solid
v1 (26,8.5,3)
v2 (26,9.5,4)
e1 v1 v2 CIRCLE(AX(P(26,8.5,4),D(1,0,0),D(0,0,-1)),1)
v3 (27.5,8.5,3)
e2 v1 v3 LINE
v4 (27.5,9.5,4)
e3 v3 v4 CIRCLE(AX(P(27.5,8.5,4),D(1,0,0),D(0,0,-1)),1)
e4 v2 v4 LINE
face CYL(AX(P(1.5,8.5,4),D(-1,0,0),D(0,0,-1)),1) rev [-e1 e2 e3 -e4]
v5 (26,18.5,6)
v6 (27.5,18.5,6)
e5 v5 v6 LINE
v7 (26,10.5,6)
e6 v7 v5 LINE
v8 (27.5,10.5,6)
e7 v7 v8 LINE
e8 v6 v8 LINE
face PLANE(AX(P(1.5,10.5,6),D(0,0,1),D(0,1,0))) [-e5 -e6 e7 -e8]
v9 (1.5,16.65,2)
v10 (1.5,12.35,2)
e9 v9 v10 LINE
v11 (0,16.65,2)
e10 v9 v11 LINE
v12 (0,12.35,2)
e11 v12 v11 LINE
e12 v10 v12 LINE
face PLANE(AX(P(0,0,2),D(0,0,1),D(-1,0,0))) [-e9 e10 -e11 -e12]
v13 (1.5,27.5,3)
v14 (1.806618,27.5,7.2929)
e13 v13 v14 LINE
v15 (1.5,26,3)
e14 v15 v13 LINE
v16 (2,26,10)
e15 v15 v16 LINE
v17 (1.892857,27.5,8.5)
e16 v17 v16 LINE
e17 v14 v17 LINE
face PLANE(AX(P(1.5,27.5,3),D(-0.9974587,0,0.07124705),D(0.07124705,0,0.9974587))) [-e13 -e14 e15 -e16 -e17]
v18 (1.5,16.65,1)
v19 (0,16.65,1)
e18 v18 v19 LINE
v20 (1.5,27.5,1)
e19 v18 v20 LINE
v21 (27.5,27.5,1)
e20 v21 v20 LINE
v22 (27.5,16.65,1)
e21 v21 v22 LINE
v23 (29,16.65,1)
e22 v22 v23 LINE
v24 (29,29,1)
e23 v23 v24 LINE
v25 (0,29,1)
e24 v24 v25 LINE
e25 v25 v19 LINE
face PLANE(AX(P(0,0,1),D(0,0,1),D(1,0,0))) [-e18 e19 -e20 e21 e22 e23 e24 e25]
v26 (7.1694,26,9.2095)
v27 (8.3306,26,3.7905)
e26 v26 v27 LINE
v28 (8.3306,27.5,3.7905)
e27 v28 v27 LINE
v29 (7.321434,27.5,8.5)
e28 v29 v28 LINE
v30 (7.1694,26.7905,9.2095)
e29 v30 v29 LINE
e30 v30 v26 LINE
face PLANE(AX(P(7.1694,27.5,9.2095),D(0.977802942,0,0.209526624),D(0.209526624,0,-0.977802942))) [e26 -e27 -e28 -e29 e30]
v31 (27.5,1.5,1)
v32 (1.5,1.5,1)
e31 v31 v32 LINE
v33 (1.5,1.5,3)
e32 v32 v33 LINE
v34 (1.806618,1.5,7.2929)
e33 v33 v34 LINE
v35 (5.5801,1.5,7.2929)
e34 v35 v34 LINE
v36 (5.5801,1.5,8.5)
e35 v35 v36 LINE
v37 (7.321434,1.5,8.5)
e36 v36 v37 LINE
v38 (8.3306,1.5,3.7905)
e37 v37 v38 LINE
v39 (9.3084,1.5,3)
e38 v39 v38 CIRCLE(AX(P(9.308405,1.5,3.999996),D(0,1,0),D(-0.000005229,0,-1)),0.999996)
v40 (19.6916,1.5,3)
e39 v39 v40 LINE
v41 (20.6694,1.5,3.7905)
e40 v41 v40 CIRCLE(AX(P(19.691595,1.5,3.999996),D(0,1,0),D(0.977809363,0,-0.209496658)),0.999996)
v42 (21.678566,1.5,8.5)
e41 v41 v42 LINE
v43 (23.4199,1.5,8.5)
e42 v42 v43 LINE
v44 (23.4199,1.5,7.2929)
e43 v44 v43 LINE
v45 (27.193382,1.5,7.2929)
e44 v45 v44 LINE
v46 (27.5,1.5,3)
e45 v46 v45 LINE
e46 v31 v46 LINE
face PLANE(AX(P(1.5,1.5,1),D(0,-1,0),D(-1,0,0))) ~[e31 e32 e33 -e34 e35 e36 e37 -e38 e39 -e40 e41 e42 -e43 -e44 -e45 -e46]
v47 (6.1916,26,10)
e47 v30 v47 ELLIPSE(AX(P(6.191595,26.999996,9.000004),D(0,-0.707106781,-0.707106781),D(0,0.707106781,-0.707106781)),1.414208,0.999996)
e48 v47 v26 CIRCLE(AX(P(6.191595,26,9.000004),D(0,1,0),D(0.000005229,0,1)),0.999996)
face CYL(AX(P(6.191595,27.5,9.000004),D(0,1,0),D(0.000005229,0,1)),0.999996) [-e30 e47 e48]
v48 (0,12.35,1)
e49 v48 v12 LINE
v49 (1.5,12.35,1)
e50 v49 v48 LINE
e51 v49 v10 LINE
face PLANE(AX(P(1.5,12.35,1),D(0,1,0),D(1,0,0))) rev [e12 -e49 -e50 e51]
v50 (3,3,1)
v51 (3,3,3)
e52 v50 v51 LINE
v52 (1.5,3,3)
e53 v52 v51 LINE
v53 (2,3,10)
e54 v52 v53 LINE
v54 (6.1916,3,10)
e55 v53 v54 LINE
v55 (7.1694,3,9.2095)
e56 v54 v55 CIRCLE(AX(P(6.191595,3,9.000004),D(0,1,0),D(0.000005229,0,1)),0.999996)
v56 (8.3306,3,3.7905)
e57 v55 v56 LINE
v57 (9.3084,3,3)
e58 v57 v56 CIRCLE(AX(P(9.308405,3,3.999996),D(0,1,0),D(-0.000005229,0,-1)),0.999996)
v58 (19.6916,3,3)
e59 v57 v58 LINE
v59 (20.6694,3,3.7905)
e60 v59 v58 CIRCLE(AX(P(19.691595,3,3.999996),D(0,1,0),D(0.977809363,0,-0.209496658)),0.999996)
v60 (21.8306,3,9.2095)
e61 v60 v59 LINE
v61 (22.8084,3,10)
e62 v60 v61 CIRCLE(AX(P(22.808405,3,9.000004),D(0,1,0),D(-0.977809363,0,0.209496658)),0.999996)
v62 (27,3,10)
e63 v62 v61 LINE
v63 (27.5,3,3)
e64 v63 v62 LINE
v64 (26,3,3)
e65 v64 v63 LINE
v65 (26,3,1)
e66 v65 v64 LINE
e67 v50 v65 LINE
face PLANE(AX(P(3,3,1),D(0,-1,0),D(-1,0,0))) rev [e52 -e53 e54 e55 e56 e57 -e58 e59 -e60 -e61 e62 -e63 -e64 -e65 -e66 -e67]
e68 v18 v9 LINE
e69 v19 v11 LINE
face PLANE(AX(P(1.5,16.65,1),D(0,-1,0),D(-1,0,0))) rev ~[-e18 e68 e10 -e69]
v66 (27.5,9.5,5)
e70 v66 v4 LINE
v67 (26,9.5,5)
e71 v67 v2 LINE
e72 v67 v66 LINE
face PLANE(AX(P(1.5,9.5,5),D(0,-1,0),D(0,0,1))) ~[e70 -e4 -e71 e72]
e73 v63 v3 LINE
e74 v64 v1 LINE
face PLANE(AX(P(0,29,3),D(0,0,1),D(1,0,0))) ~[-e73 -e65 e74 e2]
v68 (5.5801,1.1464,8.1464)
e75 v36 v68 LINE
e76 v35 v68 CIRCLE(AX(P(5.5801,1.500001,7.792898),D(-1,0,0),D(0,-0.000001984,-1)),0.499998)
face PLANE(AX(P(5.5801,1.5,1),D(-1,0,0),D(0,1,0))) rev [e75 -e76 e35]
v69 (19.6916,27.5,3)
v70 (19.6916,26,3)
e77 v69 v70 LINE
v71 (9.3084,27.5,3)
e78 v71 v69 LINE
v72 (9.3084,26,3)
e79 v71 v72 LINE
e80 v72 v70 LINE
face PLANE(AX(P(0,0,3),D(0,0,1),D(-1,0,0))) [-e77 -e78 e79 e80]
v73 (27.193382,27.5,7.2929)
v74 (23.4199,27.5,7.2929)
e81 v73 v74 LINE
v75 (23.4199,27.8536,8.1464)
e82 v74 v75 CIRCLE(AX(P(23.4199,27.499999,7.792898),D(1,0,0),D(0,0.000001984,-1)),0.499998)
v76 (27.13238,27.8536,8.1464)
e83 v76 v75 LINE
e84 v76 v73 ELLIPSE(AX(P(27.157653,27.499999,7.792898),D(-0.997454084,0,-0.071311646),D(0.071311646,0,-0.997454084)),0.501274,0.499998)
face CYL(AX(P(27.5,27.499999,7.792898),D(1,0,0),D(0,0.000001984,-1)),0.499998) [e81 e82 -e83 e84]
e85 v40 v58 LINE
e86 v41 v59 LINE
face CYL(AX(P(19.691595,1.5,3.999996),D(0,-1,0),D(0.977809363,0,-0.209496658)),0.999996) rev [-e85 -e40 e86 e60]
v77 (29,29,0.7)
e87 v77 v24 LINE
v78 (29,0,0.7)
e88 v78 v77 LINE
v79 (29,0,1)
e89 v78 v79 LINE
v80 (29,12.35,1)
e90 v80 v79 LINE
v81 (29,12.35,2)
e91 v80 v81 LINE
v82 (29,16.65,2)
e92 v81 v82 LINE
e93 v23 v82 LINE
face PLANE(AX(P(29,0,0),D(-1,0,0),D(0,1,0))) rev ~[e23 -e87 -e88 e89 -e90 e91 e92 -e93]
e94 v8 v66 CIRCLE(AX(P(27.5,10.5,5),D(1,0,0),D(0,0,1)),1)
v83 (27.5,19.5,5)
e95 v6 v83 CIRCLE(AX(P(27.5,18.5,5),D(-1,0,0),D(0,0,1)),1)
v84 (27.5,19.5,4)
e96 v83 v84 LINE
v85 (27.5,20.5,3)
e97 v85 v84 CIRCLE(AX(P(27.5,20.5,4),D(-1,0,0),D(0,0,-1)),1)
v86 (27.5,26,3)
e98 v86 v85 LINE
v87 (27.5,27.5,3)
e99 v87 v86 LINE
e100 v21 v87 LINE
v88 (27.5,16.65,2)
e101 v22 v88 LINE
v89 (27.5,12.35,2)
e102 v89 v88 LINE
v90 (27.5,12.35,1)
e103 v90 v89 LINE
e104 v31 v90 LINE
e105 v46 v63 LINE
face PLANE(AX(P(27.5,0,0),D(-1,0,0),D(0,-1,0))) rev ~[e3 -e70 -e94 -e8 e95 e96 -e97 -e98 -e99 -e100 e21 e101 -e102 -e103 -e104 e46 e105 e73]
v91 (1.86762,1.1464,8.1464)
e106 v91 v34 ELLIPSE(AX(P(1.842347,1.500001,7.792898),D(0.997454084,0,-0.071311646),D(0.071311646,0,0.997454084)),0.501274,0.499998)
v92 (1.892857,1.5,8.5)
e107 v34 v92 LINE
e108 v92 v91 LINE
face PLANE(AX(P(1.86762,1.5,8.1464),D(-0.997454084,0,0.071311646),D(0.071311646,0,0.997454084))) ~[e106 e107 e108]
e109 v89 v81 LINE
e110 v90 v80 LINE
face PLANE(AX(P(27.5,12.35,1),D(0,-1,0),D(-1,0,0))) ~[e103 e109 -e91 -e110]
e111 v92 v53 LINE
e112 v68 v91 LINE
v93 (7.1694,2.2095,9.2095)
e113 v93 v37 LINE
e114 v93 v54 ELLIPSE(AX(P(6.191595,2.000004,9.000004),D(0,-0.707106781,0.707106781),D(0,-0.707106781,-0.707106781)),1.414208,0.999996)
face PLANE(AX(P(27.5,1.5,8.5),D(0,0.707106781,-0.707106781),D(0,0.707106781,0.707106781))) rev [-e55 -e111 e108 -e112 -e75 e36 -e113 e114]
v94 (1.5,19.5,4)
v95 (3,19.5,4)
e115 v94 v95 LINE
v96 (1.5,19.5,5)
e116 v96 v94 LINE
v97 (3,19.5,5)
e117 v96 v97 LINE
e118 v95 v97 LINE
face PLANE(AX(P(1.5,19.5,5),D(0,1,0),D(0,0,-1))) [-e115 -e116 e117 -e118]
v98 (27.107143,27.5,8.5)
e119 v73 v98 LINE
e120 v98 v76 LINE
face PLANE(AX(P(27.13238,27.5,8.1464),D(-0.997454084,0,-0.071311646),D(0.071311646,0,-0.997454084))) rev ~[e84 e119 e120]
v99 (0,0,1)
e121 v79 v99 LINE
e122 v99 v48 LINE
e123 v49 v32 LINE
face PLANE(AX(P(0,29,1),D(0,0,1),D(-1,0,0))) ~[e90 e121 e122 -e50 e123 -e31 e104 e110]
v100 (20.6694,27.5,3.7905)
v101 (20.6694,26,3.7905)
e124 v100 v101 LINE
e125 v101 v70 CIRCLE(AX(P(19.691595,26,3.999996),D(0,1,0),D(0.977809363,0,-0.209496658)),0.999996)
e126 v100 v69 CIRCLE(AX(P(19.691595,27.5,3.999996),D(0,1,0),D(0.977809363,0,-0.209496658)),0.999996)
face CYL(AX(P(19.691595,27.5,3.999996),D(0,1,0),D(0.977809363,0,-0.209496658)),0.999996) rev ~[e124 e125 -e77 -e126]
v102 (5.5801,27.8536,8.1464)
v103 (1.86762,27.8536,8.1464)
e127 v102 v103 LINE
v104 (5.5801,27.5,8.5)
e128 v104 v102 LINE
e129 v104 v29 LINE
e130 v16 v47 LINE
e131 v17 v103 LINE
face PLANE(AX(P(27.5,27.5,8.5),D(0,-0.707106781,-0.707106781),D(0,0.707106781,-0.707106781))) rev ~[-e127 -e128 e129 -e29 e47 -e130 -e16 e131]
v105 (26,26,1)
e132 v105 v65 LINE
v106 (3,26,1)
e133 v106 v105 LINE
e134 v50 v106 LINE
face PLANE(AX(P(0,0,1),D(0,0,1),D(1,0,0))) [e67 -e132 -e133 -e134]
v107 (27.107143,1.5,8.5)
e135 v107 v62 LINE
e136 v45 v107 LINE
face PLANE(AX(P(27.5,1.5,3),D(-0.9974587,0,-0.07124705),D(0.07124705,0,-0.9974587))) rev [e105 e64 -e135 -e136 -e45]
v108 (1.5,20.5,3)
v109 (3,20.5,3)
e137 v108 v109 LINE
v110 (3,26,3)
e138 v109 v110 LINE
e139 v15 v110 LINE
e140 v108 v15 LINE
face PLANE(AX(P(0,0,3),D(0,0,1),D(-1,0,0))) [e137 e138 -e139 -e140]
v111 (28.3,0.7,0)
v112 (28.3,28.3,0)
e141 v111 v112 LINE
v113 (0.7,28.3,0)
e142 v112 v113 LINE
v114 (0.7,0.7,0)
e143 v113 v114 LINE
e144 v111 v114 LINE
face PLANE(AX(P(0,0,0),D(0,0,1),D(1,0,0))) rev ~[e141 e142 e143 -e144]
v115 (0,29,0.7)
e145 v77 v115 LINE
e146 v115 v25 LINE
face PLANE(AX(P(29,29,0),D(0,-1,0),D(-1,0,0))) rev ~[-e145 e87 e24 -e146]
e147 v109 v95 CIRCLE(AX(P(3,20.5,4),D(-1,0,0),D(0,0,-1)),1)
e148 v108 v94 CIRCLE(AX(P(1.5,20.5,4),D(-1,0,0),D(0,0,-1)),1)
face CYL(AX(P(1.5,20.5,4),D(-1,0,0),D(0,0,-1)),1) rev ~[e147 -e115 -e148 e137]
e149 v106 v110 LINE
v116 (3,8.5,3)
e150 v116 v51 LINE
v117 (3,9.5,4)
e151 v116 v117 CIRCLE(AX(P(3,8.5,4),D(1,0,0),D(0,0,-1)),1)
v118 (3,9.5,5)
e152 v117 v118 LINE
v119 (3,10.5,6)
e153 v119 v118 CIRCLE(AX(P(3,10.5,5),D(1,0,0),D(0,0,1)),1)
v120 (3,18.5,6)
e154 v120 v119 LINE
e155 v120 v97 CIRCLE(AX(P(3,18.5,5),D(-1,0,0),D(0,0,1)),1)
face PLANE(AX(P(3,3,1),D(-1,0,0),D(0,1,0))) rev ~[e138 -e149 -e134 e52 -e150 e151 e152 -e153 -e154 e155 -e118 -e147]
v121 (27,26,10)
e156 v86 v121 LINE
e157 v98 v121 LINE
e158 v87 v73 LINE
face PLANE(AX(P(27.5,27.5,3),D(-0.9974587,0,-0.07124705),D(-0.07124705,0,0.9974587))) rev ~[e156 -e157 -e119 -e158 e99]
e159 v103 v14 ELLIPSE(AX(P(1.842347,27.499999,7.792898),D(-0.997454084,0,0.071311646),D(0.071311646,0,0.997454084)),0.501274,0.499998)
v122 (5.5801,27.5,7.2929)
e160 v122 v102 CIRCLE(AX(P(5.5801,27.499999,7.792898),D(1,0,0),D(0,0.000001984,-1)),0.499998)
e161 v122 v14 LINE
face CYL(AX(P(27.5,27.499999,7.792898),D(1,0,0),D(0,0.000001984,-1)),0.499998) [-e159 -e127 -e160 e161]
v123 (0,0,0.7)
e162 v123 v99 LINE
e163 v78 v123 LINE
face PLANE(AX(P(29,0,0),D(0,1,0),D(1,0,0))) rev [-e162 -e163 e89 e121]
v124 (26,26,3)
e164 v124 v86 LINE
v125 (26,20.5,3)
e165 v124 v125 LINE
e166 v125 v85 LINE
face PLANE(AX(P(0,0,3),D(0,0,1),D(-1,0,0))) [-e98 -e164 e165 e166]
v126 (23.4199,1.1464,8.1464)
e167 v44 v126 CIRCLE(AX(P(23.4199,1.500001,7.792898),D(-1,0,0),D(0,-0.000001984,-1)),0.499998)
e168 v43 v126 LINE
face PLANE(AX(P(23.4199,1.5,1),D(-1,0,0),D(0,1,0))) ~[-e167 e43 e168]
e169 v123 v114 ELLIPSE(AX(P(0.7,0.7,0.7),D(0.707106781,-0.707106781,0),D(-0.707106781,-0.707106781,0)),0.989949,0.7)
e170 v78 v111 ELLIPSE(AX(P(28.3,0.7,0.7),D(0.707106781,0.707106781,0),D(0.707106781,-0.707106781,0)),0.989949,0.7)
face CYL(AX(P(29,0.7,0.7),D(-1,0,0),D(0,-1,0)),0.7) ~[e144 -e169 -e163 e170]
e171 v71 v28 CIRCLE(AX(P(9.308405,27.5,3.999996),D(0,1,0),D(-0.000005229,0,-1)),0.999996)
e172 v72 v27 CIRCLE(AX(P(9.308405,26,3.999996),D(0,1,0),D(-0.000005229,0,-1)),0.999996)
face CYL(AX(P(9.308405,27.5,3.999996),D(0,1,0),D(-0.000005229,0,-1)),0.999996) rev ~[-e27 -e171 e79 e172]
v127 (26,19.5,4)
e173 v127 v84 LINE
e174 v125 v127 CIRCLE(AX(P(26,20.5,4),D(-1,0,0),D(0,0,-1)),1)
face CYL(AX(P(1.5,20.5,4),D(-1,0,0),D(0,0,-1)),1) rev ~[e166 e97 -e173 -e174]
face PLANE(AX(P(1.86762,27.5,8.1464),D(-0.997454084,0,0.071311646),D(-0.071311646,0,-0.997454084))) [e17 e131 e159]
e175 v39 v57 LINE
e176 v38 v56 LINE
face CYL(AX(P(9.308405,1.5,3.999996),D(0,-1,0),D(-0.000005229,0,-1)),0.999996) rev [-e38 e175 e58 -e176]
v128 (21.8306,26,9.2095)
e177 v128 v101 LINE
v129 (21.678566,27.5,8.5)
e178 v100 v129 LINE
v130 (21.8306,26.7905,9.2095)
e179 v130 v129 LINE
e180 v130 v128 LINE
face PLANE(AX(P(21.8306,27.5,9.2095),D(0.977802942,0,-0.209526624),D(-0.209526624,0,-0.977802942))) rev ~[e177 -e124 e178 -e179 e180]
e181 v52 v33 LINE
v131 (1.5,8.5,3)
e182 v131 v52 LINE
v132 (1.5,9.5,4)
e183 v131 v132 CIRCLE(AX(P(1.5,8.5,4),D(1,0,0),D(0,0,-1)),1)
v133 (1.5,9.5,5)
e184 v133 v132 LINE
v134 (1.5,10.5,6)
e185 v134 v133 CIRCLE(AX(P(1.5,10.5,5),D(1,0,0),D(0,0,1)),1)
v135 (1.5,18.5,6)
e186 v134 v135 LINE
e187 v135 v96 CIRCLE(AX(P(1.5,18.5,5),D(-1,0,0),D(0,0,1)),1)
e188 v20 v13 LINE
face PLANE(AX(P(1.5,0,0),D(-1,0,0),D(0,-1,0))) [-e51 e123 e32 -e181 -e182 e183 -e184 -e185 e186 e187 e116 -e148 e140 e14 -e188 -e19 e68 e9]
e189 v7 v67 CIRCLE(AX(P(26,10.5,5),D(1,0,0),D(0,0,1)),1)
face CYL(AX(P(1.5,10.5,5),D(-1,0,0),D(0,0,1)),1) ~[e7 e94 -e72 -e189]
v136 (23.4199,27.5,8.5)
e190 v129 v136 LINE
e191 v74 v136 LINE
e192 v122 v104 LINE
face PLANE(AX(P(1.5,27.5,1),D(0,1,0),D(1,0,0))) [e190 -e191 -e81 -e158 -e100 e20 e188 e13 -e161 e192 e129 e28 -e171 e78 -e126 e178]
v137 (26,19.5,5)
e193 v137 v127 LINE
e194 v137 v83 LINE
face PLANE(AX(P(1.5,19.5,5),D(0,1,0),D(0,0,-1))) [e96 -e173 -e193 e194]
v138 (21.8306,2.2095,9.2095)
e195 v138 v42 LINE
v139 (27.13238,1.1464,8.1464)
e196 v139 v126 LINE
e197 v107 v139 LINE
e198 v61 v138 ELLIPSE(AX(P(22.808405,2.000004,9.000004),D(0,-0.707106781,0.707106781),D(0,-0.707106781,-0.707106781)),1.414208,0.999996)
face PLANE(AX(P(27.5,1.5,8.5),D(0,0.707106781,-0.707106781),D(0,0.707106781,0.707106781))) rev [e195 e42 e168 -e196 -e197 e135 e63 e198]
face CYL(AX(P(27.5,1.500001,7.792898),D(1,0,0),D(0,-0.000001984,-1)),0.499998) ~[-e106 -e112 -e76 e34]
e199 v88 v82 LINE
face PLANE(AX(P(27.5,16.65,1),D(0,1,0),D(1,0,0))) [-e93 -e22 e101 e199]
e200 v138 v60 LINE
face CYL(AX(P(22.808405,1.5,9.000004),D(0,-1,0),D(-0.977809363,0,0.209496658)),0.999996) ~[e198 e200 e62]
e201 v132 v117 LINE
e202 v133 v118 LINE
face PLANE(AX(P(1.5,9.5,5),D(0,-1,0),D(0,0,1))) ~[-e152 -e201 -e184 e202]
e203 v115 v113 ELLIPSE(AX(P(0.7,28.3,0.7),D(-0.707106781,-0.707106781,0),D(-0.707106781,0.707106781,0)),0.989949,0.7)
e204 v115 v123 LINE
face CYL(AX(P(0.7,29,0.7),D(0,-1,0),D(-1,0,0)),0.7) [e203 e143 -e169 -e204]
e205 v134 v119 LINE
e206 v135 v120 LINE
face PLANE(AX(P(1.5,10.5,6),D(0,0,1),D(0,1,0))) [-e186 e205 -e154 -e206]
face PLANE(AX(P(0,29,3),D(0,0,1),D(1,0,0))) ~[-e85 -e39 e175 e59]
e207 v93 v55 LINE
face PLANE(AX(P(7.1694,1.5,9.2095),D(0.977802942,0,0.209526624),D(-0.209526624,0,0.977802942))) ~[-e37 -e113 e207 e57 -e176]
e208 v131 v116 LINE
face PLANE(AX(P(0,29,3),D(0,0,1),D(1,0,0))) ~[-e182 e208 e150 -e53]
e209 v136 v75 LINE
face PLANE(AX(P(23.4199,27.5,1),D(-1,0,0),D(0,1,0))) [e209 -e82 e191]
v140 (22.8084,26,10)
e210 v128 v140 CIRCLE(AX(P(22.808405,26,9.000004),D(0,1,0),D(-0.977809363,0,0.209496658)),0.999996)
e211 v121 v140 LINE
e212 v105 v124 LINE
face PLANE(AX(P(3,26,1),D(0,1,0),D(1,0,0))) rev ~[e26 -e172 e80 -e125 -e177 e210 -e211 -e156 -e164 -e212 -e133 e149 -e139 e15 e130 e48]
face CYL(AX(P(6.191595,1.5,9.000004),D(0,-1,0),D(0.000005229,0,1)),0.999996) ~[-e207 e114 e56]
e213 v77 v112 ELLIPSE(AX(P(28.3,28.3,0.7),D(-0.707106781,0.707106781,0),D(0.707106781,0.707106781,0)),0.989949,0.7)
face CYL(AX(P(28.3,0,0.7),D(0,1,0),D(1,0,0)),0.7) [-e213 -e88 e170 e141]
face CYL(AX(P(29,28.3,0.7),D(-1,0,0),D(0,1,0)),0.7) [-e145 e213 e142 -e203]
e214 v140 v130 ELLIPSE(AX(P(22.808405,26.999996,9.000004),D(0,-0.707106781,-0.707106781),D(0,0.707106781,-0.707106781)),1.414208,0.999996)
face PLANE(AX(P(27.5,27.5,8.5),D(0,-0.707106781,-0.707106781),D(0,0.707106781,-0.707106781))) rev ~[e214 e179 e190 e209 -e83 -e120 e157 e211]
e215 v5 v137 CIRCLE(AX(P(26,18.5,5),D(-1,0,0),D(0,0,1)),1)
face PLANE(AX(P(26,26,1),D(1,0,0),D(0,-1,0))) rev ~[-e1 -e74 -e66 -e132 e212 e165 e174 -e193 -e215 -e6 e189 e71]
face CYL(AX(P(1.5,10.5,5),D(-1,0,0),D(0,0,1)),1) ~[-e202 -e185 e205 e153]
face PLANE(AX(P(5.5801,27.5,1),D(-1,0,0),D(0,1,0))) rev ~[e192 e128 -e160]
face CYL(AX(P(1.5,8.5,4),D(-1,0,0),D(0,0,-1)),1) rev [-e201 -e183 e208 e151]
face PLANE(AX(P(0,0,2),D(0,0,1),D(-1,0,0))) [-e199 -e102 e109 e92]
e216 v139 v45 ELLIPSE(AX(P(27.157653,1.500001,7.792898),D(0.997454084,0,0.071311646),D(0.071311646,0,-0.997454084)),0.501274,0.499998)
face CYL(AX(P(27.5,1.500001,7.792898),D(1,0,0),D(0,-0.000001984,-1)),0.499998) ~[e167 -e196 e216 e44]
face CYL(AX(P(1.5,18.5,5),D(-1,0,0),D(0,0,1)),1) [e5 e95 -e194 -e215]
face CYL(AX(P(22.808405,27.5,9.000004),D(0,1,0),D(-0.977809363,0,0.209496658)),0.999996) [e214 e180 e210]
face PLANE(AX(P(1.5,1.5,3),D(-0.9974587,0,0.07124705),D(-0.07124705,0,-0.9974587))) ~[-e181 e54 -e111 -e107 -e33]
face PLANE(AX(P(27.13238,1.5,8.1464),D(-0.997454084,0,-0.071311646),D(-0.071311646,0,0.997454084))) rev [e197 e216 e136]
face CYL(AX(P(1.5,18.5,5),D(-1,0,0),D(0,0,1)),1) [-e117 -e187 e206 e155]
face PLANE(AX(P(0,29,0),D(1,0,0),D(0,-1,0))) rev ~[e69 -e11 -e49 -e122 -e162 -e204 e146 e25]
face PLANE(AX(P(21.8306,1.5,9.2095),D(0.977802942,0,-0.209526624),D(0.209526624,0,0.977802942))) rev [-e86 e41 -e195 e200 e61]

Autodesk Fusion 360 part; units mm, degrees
sketch "Skizze1" plane through (0, 0, 0) normal (0, 0, 1) x (1, 0, 0)
  line L0 (0, 0) -> (29, 0)
  line L1 (29, 0) -> (29, 29)
  line L2 (29, 29) -> (0, 29)
  line L3 (0, 29) -> (0, 0)
  dimension "d1" = 29
  dimension "d2" = 29
extrude "Extrusion1" add sketch "Skizze1" along normal blind 1
fillet "Abrundung1" radius 0.7 4 edges at (14.5, 0, 0) (29, 14.5, 0) (14.5, 29, 0) (0, 14.5, 0)
sketch "Skizze2" plane through (0, 0, 1) normal (0, 0, 1) x (-1, 0, 0)
  line L0 (0, -29) -> (0, 0)
  line L1 (0, 0) -> (-29, 0)
  line L2 (-29, 0) -> (-29, -29)
  line L3 (-29, -29) -> (0, -29)
  line L4 (-1.5, -27.5) -> (-27.5, -27.5)
  line L5 (-27.5, -27.5) -> (-27.5, -1.5)
  line L6 (-27.5, -1.5) -> (-1.5, -1.5)
  line L7 (-1.5, -1.5) -> (-1.5, -27.5)
  line L8 (-26, -26) -> (-26, -3)
  line L9 (-26, -3) -> (-3, -3)
  line L10 (-3, -3) -> (-3, -26)
  line L11 (-3, -26) -> (-26, -26)
  dimension "d7" = 26
  dimension "d8" = 26
  dimension "d9" = 29
  dimension "d10" = 1.5
  dimension "d11" = 1.5
  dimension "d12" = 1.5
extrude "Extrusion2" add sketch "Skizze2" along normal blind 2 contours L4 L5 L6 L7
sketch "Skizze3" plane through (1.5, 0, 0) normal (-1, 0, 0) x (0, -1, 0)
  line L0 (-27.5, 1) -> (-1.5, 1)
  line L1 (-1.5, 1) -> (-1.5, 3)
  line L2 (-1.5, 3) -> (-27.5, 3)
  line L3 (-27.5, 3) -> (-27.5, 1)
  line L4 (-9.5, 4) -> (-9.5, 5)
  line L5 (-10.5, 6) -> (-18.5, 6)
  line L6 (-19.5, 5) -> (-19.5, 4)
  line L7 (-8.5, 3) -> (-1.5, 3)
  line L8 (-27.5, 3) -> (-20.5, 3)
  arc A0 (-20.5, 3) -> (-19.5, 4) centre (-20.5, 4) ccw
  line L9 (-9.5, 3) -> (-1.5, 3)
  arc A1 (-9.5, 4) -> (-8.5, 3) centre (-8.5, 4) ccw
  arc A2 (-18.5, 6) -> (-19.5, 5) centre (-18.5, 5) ccw
  arc A3 (-9.5, 5) -> (-10.5, 6) centre (-10.5, 5) ccw
  point P0 (-19.5, 3)
  point P1 (-19.5, 6)
  dimension "d15" = 10
  dimension "d16" = 3
  dimension "d17" = 26
  dimension "d18" = 8
  dimension "d19" = 1
  dimension "d20" = 1
  dimension "d21" = 1
  dimension "d22" = 1
extrude "Extrusion3" add sketch "Skizze3" against normal up to surface (26 mm away) contours L2 L4 L5 L6 A0 L9 A1 A2 A3
extrude "Extrusion4" cut 1 faces at (10.6667, 18.3333, 1) along direction (0, 0, 1) blind 5
sketch "Skizze4" plane through (0, 27.5, 0) normal (0, 1, 0) x (-1, 0, 0)
  line L0 (-27.5, 1) -> (-1.5, 1)
  line L1 (-1.5, 1) -> (-1.5, 3)
  line L2 (-1.5, 3) -> (-27.5, 3)
  line L3 (-27.5, 3) -> (-27.5, 1)
sketch "Skizze5" plane through (0, 0, 1) normal (0, 0, 1) x (-1, 0, 0)
  line L0 (0, -29) -> (0, 0)
  line L1 (0, 0) -> (-29, 0)
  line L2 (-29, 0) -> (-29, -29)
  line L3 (-29, -29) -> (0, -29)
  line L4 (-1.5, -1.5) -> (-1.5, -27.5)
  line L5 (-1.5, -27.5) -> (-27.5, -27.5)
  line L6 (-27.5, -27.5) -> (-27.5, -1.5)
  line L7 (-27.5, -1.5) -> (-1.5, -1.5)
  line L8 (-27.5, -16.65) -> (-29, -16.65)
  line L9 (-29, -16.65) -> (-29, -12.35)
  line L10 (-29, -12.35) -> (-27.5, -12.35)
  line L11 (-27.5, -12.35) -> (-27.5, -16.65)
  line L12 (-27.5, -12.35) -> (0, -12.35) construction
  line L13 (0, -12.35) -> (-1.5, -12.35)
  line L14 (-1.5, -12.35) -> (-1.5, -16.65)
  line L15 (-1.5, -16.65) -> (0, -16.65)
  line L16 (0, -16.65) -> (0, -12.35)
  dimension "d27" = 4.3
  dimension "d28" = 29
  dimension "d29" = 12.35
  dimension "d30" = 4.3
extrude "Extrusion5" add sketch "Skizze5" along normal blind 1 contours L0 L4 L13 L14 L15 L16 | L2 L6 L8 L9 L10 L11
sketch "Skizze6" plane through (0, 27.5, 0) normal (0, 1, 0) x (-1, 0, 0)
  line L0 (-27.5, 1) -> (-1.5, 1)
  line L1 (-1.5, 1) -> (-1.5, 3)
  line L2 (-1.5, 3) -> (-27.5, 3)
  line L3 (-27.5, 3) -> (-27.5, 1)
  line L4 (-29.2103, 10) -> (4.3331, 10) construction
  line L5 (-1.5, 3) -> (-27.5, 3)
  line L6 (-1.5, 3) -> (-1.5, 10) construction
  line L7 (-1.5, 3) -> (-2, 10)
  line L8 (-14.5, 3) -> (-14.5, 12.4711) construction
  line L9 (-2, 10) -> (-6.1916, 10)
  line L10 (-7.1694, 9.2095) -> (-8.3306, 3.7905)
  line L11 (-1.5, 3) -> (-14.5, 3)
  arc A0 (-9.3084, 3) -> (-8.3306, 3.7905) centre (-9.3084, 4) ccw
  arc A1 (-6.1916, 10) -> (-7.1694, 9.2095) centre (-6.1916, 9) ccw
  line L12 (-21.8306, 9.2095) -> (-20.6694, 3.7905)
  arc A2 (-21.8306, 9.2095) -> (-22.8084, 10) centre (-22.8084, 9) ccw
  line L13 (-27, 10) -> (-22.8084, 10)
  line L14 (-27.5, 3) -> (-27, 10)
  arc A3 (-20.6694, 3.7905) -> (-19.6916, 3) centre (-19.6916, 4) ccw
  line L15 (-27.5, 3) -> (-14.5, 3)
  point P0 (-7, 10)
  dimension "d33" = 7
  dimension "d34" = 0.5
  dimension "d36" = 5
  dimension "d37" = 1
  dimension "d38" = 1
extrude "Extrusion6" add sketch "Skizze6" against normal up to surface (1.5 mm away) contours L2 L5 L12 A2 L13 L14 A3 L15 | L2 L5 L7 L9 L10 L11 A0 A1
sketch "Skizze7" plane through (27.5, 0, 0) normal (1, 0, 0) x (0, 1, 0)
  line L0 (16.65, 2) -> (16.65, 1)
  line L1 (16.65, 1) -> (27.5, 1)
  line L2 (27.5, 1) -> (27.5, 3)
  line L3 (27.5, 3) -> (26, 3)
  line L4 (26, 3) -> (20.5, 3)
  arc A0 (19.5, 4) -> (20.5, 3) centre (20.5, 4) ccw
  line L5 (19.5, 4) -> (19.5, 5)
  arc A1 (19.5, 5) -> (18.5, 6) centre (18.5, 5) ccw
  line L6 (18.5, 6) -> (10.5, 6)
  arc A2 (10.5, 6) -> (9.5, 5) centre (10.5, 5) ccw
  line L7 (9.5, 5) -> (9.5, 4)
  arc A3 (8.5, 3) -> (9.5, 4) centre (8.5, 4) ccw
  line L8 (8.5, 3) -> (1.5, 3)
  line L9 (1.5, 3) -> (1.5, 1)
  line L10 (1.5, 1) -> (12.35, 1)
  line L11 (12.35, 1) -> (12.35, 2)
  line L12 (12.35, 2) -> (16.65, 2)
  line L13 (26, 10) -> (26, 3)
  line L14 (26, 3) -> (27.5, 3)
  line L15 (27.5, 3) -> (27.5, 10)
  line L16 (27.5, 10) -> (26, 10)
  line L17 (26, 10) -> (27.6131, 8.3869)
  line L18 (26, 10) -> (28.2813, 10) construction
  dimension "d41" = 45
extrude "Extrusion7" cut sketch "Skizze7" against normal blind 29 contours L15 L16 L17
sketch "Skizze9" plane through (27.5, 0, 0) normal (1, 0, 0) x (0, 1, 0)
  line L0 (16.65, 2) -> (16.65, 1)
  line L1 (16.65, 1) -> (27.5, 1)
  line L2 (27.5, 1) -> (27.5, 3)
  line L3 (27.5, 3) -> (26, 3)
  line L4 (26, 3) -> (20.5, 3)
  arc A0 (19.5, 4) -> (20.5, 3) centre (20.5, 4) ccw
  line L5 (19.5, 4) -> (19.5, 5)
  arc A1 (19.5, 5) -> (18.5, 6) centre (18.5, 5) ccw
  line L6 (18.5, 6) -> (10.5, 6)
  arc A2 (10.5, 6) -> (9.5, 5) centre (10.5, 5) ccw
  line L7 (9.5, 5) -> (9.5, 4)
  arc A3 (8.5, 3) -> (9.5, 4) centre (8.5, 4) ccw
  line L8 (8.5, 3) -> (1.5, 3)
  line L9 (1.5, 3) -> (1.5, 1)
  line L10 (1.5, 1) -> (12.35, 1)
  line L11 (12.35, 1) -> (12.35, 2)
  line L12 (12.35, 2) -> (16.65, 2)
  line L13 (27.5, 8.5) -> (26, 10)
  line L14 (26, 10) -> (26, 3)
  line L15 (26, 3) -> (27.5, 3)
  line L16 (27.5, 3) -> (27.5, 8.5)
  line L17 (27.5, 8.5) -> (27.8536, 8.1464)
  arc A4 (27.5, 7.2929) -> (27.8536, 8.1464) centre (27.5, 7.7929) ccw
  dimension "d44" = 1
extrude "Extrusion8" add sketch "Skizze9" against normal up to surface (26 mm away) contours L16 L17 A4
sketch "Skizze10" plane through (0, 27.5, 0) normal (0, 1, 0) x (-1, 0, 0)
  line L0 (-21.4199, 7.2929) -> (-27.1934, 7.2929)
  line L1 (-27.1934, 7.2929) -> (-27.5, 3)
  line L2 (-27.5, 3) -> (-27.5, 1)
  line L3 (-27.5, 1) -> (-1.5, 1)
  line L4 (-1.5, 1) -> (-1.5, 3)
  line L5 (-1.5, 3) -> (-1.8066, 7.2929)
  line L6 (-1.8066, 7.2929) -> (-7.5801, 7.2929)
  line L7 (-7.5801, 7.2929) -> (-8.3306, 3.7905)
  arc A0 (-9.3084, 3) -> (-8.3306, 3.7905) centre (-9.3084, 4) ccw
  line L8 (-9.3084, 3) -> (-19.6916, 3)
  arc A1 (-20.6694, 3.7905) -> (-19.6916, 3) centre (-19.6916, 4) ccw
  line L9 (-20.6694, 3.7905) -> (-21.4199, 7.2929)
  line L10 (-7.3214, 8.5) -> (-7.1694, 9.2095)
  line L11 (-21.8306, 9.2095) -> (-21.6786, 8.5)
  line L12 (-27.1071, 8.5) -> (-27, 10)
  line L13 (-2, 10) -> (-1.8929, 8.5)
  line L14 (-1.8929, 8.5) -> (-1.8066, 7.2929)
  line L15 (-7.3214, 8.5) -> (-7.5801, 7.2929)
  line L16 (-27.1071, 8.5) -> (-27.1934, 7.2929)
  line L17 (-21.6786, 8.5) -> (-21.4199, 7.2929)
  line L18 (-1.5, 8.1464) -> (-1.5, 7.2929)
  line L19 (-1.5, 8.1464) -> (-27.5, 8.1464)
  line L20 (-27.5, 8.1464) -> (-27.5, 7.2929)
  line L21 (-27.5, 7.2929) -> (-27.1934, 7.2929)
  line L22 (-27.1934, 7.2929) -> (-21.4199, 7.2929)
  line L23 (-21.4199, 7.2929) -> (-7.5801, 7.2929)
  line L24 (-7.5801, 7.2929) -> (-1.8066, 7.2929)
  line L25 (-1.8066, 7.2929) -> (-1.5, 7.2929)
  line L26 (-27, 10) -> (-27.1071, 8.5)
  line L27 (-27.1071, 8.5) -> (-27.5, 8.5)
  line L28 (-27.5, 8.5) -> (-27.5, 8.1464)
  line L29 (-27.5, 8.1464) -> (-1.5, 8.1464)
  line L30 (-1.5, 8.1464) -> (-1.5, 8.5)
  line L31 (-1.5, 8.5) -> (-1.8929, 8.5)
  line L32 (-1.8929, 8.5) -> (-2, 10)
  line L33 (-2, 10) -> (-6.1916, 10)
  arc A2 (-6.1916, 10) -> (-7.1694, 9.2095) centre (-6.1916, 9) ccw
  line L34 (-7.1694, 9.2095) -> (-7.3214, 8.5)
  line L35 (-7.3214, 8.5) -> (-21.6786, 8.5)
  line L36 (-21.6786, 8.5) -> (-21.8306, 9.2095)
  arc A3 (-21.8306, 9.2095) -> (-22.8084, 10) centre (-22.8084, 9) ccw
  line L37 (-22.8084, 10) -> (-27, 10)
  line L38 (-27.5, 8.5) -> (-1.5, 8.5)
  line L39 (-1.5, 8.5) -> (-1.5, 7.2929)
  line L40 (-1.5, 7.2929) -> (-27.5, 7.2929)
  line L41 (-27.5, 7.2929) -> (-27.5, 8.5)
extrude "Extrusion9" cut sketch "Skizze10" along normal blind 1.5 contours L15 L17 L19 L23 L29 L40 | L16 L19 L20 L21 L29 L40 L41 | L15 L17 L19 L29 L35 L38 | L16 L19 L27 L28 L29 L38 L41 | L14 L18 L19 L25 L29 L39 L40 | L14 L19 L29 L30 L31 L38 L39
sketch "Skizze11" plane through (0, 0, 1) normal (0, 0, 1) x (-1, 0, 0)
  line L0 (-27.5, -16.65) -> (-29, -16.65)
  line L1 (-29, -16.65) -> (-29, -29)
  line L2 (-29, -29) -> (0, -29)
  line L3 (0, -29) -> (0, -16.65)
  line L4 (0, -16.65) -> (-1.5, -16.65)
  line L5 (-1.5, -16.65) -> (-1.5, -27.5)
  line L6 (-1.5, -27.5) -> (-27.5, -27.5)
  line L7 (-27.5, -27.5) -> (-27.5, -16.65)
  ellipse E0 centre (-7.473, -27.5) end of major axis (-7.473, -27) minor radius 0.1071 (-7.5801, -27.5) -> (-7.3972, -27.8536) ccw
  ellipse E1 centre (-21.527, -27.5) end of major axis (-21.527, -28) minor radius 0.1071 (-21.6028, -27.8536) -> (-21.4199, -27.5) ccw
  ellipse E2 centre (-27.1577, -27.5) end of major axis (-27.1577, -27) minor radius 0.0357 (-27.1934, -27.5) -> (-27.1324, -27.8536) ccw
  ellipse E3 centre (-1.8423, -27.5) end of major axis (-1.8423, -28) minor radius 0.0357 (-1.8676, -27.8536) -> (-1.8066, -27.5) ccw
  line L8 (-7.5801, -27.5) -> (-5.5801, -27.5)
  line L9 (-5.5801, -27.5) -> (-5.5801, -29)
  line L10 (-5.5801, -29) -> (-7.5801, -29)
  line L11 (-7.5801, -29) -> (-7.5801, -27.5)
  line L12 (-21.4199, -27.5) -> (-23.4199, -27.5)
  line L13 (-23.4199, -27.5) -> (-23.4199, -29)
  line L14 (-23.4199, -29) -> (-21.4199, -29)
  line L15 (-21.4199, -29) -> (-21.4199, -27.5)
  dimension "d49" = 2
  dimension "d50" = 2
extrude "Extrusion10" cut sketch "Skizze11" along normal blind 12 contours L2 L6 L12 L13 L14 L15 | L2 L6 L8 L9 L10 L11
sketch "Skizze12" plane through (0, 0, 1) normal (0, 0, 1) x (-1, 0, 0)
  line L0 (-3, -3) -> (-26, -3)
  line L1 (-26, -3) -> (-26, -26)
  line L2 (-26, -26) -> (-3, -26)
  line L3 (-3, -26) -> (-3, -3)
  line L4 (-26, -14.5) -> (1.3472, -14.5)
  line L5 (-26, -14.5) -> (-29.3311, -14.5)
  line L6 (-29, -12.35) -> (-27.5, -12.35)
  line L7 (-27.5, -12.35) -> (-27.5, -1.5)
  line L8 (-27.5, -1.5) -> (-1.5, -1.5)
  line L9 (-1.5, -1.5) -> (-1.5, -12.35)
  line L10 (-1.5, -12.35) -> (0, -12.35)
  line L11 (0, -12.35) -> (0, 0)
  line L12 (0, 0) -> (-29, 0)
  line L13 (-29, 0) -> (-29, -12.35)
  line L14 (-29, -12.35) -> (-29, -16.65)
  line L15 (0, -16.65) -> (0, -12.35)
  line L16 (0, -14.5) -> (-29, -14.5)
  line L17 (-29, -14.5) -> (-29, 0)
  line L18 (-29, 0) -> (0, 0)
  line L19 (0, 0) -> (0, -14.5)
extrude "Extrusion11" cut sketch "Skizze12" along normal blind 8 and the other way blind 3 contours L0 L1 L3 L4 L16 | L0 L1 L3 L4 L5 L6 L7 L8 L9 L10 L14 L15 L16 L17 L19 | L6 L7 L8 L9 L10 L11 L12 L13 L17 L18 L19
mirror "Spiegeln1" about plane through (26, 14.5, 1) normal (0, -1, 0) of bodies 1 merged
equation "d10 = ( d9 - d7 ) / 2"
equation "d11 = d10"
equation "d18 = ( d17 - d15 ) / 2"
equation "d29 = ( d28 - d27 ) / 2"
equation "d30 = d27"
